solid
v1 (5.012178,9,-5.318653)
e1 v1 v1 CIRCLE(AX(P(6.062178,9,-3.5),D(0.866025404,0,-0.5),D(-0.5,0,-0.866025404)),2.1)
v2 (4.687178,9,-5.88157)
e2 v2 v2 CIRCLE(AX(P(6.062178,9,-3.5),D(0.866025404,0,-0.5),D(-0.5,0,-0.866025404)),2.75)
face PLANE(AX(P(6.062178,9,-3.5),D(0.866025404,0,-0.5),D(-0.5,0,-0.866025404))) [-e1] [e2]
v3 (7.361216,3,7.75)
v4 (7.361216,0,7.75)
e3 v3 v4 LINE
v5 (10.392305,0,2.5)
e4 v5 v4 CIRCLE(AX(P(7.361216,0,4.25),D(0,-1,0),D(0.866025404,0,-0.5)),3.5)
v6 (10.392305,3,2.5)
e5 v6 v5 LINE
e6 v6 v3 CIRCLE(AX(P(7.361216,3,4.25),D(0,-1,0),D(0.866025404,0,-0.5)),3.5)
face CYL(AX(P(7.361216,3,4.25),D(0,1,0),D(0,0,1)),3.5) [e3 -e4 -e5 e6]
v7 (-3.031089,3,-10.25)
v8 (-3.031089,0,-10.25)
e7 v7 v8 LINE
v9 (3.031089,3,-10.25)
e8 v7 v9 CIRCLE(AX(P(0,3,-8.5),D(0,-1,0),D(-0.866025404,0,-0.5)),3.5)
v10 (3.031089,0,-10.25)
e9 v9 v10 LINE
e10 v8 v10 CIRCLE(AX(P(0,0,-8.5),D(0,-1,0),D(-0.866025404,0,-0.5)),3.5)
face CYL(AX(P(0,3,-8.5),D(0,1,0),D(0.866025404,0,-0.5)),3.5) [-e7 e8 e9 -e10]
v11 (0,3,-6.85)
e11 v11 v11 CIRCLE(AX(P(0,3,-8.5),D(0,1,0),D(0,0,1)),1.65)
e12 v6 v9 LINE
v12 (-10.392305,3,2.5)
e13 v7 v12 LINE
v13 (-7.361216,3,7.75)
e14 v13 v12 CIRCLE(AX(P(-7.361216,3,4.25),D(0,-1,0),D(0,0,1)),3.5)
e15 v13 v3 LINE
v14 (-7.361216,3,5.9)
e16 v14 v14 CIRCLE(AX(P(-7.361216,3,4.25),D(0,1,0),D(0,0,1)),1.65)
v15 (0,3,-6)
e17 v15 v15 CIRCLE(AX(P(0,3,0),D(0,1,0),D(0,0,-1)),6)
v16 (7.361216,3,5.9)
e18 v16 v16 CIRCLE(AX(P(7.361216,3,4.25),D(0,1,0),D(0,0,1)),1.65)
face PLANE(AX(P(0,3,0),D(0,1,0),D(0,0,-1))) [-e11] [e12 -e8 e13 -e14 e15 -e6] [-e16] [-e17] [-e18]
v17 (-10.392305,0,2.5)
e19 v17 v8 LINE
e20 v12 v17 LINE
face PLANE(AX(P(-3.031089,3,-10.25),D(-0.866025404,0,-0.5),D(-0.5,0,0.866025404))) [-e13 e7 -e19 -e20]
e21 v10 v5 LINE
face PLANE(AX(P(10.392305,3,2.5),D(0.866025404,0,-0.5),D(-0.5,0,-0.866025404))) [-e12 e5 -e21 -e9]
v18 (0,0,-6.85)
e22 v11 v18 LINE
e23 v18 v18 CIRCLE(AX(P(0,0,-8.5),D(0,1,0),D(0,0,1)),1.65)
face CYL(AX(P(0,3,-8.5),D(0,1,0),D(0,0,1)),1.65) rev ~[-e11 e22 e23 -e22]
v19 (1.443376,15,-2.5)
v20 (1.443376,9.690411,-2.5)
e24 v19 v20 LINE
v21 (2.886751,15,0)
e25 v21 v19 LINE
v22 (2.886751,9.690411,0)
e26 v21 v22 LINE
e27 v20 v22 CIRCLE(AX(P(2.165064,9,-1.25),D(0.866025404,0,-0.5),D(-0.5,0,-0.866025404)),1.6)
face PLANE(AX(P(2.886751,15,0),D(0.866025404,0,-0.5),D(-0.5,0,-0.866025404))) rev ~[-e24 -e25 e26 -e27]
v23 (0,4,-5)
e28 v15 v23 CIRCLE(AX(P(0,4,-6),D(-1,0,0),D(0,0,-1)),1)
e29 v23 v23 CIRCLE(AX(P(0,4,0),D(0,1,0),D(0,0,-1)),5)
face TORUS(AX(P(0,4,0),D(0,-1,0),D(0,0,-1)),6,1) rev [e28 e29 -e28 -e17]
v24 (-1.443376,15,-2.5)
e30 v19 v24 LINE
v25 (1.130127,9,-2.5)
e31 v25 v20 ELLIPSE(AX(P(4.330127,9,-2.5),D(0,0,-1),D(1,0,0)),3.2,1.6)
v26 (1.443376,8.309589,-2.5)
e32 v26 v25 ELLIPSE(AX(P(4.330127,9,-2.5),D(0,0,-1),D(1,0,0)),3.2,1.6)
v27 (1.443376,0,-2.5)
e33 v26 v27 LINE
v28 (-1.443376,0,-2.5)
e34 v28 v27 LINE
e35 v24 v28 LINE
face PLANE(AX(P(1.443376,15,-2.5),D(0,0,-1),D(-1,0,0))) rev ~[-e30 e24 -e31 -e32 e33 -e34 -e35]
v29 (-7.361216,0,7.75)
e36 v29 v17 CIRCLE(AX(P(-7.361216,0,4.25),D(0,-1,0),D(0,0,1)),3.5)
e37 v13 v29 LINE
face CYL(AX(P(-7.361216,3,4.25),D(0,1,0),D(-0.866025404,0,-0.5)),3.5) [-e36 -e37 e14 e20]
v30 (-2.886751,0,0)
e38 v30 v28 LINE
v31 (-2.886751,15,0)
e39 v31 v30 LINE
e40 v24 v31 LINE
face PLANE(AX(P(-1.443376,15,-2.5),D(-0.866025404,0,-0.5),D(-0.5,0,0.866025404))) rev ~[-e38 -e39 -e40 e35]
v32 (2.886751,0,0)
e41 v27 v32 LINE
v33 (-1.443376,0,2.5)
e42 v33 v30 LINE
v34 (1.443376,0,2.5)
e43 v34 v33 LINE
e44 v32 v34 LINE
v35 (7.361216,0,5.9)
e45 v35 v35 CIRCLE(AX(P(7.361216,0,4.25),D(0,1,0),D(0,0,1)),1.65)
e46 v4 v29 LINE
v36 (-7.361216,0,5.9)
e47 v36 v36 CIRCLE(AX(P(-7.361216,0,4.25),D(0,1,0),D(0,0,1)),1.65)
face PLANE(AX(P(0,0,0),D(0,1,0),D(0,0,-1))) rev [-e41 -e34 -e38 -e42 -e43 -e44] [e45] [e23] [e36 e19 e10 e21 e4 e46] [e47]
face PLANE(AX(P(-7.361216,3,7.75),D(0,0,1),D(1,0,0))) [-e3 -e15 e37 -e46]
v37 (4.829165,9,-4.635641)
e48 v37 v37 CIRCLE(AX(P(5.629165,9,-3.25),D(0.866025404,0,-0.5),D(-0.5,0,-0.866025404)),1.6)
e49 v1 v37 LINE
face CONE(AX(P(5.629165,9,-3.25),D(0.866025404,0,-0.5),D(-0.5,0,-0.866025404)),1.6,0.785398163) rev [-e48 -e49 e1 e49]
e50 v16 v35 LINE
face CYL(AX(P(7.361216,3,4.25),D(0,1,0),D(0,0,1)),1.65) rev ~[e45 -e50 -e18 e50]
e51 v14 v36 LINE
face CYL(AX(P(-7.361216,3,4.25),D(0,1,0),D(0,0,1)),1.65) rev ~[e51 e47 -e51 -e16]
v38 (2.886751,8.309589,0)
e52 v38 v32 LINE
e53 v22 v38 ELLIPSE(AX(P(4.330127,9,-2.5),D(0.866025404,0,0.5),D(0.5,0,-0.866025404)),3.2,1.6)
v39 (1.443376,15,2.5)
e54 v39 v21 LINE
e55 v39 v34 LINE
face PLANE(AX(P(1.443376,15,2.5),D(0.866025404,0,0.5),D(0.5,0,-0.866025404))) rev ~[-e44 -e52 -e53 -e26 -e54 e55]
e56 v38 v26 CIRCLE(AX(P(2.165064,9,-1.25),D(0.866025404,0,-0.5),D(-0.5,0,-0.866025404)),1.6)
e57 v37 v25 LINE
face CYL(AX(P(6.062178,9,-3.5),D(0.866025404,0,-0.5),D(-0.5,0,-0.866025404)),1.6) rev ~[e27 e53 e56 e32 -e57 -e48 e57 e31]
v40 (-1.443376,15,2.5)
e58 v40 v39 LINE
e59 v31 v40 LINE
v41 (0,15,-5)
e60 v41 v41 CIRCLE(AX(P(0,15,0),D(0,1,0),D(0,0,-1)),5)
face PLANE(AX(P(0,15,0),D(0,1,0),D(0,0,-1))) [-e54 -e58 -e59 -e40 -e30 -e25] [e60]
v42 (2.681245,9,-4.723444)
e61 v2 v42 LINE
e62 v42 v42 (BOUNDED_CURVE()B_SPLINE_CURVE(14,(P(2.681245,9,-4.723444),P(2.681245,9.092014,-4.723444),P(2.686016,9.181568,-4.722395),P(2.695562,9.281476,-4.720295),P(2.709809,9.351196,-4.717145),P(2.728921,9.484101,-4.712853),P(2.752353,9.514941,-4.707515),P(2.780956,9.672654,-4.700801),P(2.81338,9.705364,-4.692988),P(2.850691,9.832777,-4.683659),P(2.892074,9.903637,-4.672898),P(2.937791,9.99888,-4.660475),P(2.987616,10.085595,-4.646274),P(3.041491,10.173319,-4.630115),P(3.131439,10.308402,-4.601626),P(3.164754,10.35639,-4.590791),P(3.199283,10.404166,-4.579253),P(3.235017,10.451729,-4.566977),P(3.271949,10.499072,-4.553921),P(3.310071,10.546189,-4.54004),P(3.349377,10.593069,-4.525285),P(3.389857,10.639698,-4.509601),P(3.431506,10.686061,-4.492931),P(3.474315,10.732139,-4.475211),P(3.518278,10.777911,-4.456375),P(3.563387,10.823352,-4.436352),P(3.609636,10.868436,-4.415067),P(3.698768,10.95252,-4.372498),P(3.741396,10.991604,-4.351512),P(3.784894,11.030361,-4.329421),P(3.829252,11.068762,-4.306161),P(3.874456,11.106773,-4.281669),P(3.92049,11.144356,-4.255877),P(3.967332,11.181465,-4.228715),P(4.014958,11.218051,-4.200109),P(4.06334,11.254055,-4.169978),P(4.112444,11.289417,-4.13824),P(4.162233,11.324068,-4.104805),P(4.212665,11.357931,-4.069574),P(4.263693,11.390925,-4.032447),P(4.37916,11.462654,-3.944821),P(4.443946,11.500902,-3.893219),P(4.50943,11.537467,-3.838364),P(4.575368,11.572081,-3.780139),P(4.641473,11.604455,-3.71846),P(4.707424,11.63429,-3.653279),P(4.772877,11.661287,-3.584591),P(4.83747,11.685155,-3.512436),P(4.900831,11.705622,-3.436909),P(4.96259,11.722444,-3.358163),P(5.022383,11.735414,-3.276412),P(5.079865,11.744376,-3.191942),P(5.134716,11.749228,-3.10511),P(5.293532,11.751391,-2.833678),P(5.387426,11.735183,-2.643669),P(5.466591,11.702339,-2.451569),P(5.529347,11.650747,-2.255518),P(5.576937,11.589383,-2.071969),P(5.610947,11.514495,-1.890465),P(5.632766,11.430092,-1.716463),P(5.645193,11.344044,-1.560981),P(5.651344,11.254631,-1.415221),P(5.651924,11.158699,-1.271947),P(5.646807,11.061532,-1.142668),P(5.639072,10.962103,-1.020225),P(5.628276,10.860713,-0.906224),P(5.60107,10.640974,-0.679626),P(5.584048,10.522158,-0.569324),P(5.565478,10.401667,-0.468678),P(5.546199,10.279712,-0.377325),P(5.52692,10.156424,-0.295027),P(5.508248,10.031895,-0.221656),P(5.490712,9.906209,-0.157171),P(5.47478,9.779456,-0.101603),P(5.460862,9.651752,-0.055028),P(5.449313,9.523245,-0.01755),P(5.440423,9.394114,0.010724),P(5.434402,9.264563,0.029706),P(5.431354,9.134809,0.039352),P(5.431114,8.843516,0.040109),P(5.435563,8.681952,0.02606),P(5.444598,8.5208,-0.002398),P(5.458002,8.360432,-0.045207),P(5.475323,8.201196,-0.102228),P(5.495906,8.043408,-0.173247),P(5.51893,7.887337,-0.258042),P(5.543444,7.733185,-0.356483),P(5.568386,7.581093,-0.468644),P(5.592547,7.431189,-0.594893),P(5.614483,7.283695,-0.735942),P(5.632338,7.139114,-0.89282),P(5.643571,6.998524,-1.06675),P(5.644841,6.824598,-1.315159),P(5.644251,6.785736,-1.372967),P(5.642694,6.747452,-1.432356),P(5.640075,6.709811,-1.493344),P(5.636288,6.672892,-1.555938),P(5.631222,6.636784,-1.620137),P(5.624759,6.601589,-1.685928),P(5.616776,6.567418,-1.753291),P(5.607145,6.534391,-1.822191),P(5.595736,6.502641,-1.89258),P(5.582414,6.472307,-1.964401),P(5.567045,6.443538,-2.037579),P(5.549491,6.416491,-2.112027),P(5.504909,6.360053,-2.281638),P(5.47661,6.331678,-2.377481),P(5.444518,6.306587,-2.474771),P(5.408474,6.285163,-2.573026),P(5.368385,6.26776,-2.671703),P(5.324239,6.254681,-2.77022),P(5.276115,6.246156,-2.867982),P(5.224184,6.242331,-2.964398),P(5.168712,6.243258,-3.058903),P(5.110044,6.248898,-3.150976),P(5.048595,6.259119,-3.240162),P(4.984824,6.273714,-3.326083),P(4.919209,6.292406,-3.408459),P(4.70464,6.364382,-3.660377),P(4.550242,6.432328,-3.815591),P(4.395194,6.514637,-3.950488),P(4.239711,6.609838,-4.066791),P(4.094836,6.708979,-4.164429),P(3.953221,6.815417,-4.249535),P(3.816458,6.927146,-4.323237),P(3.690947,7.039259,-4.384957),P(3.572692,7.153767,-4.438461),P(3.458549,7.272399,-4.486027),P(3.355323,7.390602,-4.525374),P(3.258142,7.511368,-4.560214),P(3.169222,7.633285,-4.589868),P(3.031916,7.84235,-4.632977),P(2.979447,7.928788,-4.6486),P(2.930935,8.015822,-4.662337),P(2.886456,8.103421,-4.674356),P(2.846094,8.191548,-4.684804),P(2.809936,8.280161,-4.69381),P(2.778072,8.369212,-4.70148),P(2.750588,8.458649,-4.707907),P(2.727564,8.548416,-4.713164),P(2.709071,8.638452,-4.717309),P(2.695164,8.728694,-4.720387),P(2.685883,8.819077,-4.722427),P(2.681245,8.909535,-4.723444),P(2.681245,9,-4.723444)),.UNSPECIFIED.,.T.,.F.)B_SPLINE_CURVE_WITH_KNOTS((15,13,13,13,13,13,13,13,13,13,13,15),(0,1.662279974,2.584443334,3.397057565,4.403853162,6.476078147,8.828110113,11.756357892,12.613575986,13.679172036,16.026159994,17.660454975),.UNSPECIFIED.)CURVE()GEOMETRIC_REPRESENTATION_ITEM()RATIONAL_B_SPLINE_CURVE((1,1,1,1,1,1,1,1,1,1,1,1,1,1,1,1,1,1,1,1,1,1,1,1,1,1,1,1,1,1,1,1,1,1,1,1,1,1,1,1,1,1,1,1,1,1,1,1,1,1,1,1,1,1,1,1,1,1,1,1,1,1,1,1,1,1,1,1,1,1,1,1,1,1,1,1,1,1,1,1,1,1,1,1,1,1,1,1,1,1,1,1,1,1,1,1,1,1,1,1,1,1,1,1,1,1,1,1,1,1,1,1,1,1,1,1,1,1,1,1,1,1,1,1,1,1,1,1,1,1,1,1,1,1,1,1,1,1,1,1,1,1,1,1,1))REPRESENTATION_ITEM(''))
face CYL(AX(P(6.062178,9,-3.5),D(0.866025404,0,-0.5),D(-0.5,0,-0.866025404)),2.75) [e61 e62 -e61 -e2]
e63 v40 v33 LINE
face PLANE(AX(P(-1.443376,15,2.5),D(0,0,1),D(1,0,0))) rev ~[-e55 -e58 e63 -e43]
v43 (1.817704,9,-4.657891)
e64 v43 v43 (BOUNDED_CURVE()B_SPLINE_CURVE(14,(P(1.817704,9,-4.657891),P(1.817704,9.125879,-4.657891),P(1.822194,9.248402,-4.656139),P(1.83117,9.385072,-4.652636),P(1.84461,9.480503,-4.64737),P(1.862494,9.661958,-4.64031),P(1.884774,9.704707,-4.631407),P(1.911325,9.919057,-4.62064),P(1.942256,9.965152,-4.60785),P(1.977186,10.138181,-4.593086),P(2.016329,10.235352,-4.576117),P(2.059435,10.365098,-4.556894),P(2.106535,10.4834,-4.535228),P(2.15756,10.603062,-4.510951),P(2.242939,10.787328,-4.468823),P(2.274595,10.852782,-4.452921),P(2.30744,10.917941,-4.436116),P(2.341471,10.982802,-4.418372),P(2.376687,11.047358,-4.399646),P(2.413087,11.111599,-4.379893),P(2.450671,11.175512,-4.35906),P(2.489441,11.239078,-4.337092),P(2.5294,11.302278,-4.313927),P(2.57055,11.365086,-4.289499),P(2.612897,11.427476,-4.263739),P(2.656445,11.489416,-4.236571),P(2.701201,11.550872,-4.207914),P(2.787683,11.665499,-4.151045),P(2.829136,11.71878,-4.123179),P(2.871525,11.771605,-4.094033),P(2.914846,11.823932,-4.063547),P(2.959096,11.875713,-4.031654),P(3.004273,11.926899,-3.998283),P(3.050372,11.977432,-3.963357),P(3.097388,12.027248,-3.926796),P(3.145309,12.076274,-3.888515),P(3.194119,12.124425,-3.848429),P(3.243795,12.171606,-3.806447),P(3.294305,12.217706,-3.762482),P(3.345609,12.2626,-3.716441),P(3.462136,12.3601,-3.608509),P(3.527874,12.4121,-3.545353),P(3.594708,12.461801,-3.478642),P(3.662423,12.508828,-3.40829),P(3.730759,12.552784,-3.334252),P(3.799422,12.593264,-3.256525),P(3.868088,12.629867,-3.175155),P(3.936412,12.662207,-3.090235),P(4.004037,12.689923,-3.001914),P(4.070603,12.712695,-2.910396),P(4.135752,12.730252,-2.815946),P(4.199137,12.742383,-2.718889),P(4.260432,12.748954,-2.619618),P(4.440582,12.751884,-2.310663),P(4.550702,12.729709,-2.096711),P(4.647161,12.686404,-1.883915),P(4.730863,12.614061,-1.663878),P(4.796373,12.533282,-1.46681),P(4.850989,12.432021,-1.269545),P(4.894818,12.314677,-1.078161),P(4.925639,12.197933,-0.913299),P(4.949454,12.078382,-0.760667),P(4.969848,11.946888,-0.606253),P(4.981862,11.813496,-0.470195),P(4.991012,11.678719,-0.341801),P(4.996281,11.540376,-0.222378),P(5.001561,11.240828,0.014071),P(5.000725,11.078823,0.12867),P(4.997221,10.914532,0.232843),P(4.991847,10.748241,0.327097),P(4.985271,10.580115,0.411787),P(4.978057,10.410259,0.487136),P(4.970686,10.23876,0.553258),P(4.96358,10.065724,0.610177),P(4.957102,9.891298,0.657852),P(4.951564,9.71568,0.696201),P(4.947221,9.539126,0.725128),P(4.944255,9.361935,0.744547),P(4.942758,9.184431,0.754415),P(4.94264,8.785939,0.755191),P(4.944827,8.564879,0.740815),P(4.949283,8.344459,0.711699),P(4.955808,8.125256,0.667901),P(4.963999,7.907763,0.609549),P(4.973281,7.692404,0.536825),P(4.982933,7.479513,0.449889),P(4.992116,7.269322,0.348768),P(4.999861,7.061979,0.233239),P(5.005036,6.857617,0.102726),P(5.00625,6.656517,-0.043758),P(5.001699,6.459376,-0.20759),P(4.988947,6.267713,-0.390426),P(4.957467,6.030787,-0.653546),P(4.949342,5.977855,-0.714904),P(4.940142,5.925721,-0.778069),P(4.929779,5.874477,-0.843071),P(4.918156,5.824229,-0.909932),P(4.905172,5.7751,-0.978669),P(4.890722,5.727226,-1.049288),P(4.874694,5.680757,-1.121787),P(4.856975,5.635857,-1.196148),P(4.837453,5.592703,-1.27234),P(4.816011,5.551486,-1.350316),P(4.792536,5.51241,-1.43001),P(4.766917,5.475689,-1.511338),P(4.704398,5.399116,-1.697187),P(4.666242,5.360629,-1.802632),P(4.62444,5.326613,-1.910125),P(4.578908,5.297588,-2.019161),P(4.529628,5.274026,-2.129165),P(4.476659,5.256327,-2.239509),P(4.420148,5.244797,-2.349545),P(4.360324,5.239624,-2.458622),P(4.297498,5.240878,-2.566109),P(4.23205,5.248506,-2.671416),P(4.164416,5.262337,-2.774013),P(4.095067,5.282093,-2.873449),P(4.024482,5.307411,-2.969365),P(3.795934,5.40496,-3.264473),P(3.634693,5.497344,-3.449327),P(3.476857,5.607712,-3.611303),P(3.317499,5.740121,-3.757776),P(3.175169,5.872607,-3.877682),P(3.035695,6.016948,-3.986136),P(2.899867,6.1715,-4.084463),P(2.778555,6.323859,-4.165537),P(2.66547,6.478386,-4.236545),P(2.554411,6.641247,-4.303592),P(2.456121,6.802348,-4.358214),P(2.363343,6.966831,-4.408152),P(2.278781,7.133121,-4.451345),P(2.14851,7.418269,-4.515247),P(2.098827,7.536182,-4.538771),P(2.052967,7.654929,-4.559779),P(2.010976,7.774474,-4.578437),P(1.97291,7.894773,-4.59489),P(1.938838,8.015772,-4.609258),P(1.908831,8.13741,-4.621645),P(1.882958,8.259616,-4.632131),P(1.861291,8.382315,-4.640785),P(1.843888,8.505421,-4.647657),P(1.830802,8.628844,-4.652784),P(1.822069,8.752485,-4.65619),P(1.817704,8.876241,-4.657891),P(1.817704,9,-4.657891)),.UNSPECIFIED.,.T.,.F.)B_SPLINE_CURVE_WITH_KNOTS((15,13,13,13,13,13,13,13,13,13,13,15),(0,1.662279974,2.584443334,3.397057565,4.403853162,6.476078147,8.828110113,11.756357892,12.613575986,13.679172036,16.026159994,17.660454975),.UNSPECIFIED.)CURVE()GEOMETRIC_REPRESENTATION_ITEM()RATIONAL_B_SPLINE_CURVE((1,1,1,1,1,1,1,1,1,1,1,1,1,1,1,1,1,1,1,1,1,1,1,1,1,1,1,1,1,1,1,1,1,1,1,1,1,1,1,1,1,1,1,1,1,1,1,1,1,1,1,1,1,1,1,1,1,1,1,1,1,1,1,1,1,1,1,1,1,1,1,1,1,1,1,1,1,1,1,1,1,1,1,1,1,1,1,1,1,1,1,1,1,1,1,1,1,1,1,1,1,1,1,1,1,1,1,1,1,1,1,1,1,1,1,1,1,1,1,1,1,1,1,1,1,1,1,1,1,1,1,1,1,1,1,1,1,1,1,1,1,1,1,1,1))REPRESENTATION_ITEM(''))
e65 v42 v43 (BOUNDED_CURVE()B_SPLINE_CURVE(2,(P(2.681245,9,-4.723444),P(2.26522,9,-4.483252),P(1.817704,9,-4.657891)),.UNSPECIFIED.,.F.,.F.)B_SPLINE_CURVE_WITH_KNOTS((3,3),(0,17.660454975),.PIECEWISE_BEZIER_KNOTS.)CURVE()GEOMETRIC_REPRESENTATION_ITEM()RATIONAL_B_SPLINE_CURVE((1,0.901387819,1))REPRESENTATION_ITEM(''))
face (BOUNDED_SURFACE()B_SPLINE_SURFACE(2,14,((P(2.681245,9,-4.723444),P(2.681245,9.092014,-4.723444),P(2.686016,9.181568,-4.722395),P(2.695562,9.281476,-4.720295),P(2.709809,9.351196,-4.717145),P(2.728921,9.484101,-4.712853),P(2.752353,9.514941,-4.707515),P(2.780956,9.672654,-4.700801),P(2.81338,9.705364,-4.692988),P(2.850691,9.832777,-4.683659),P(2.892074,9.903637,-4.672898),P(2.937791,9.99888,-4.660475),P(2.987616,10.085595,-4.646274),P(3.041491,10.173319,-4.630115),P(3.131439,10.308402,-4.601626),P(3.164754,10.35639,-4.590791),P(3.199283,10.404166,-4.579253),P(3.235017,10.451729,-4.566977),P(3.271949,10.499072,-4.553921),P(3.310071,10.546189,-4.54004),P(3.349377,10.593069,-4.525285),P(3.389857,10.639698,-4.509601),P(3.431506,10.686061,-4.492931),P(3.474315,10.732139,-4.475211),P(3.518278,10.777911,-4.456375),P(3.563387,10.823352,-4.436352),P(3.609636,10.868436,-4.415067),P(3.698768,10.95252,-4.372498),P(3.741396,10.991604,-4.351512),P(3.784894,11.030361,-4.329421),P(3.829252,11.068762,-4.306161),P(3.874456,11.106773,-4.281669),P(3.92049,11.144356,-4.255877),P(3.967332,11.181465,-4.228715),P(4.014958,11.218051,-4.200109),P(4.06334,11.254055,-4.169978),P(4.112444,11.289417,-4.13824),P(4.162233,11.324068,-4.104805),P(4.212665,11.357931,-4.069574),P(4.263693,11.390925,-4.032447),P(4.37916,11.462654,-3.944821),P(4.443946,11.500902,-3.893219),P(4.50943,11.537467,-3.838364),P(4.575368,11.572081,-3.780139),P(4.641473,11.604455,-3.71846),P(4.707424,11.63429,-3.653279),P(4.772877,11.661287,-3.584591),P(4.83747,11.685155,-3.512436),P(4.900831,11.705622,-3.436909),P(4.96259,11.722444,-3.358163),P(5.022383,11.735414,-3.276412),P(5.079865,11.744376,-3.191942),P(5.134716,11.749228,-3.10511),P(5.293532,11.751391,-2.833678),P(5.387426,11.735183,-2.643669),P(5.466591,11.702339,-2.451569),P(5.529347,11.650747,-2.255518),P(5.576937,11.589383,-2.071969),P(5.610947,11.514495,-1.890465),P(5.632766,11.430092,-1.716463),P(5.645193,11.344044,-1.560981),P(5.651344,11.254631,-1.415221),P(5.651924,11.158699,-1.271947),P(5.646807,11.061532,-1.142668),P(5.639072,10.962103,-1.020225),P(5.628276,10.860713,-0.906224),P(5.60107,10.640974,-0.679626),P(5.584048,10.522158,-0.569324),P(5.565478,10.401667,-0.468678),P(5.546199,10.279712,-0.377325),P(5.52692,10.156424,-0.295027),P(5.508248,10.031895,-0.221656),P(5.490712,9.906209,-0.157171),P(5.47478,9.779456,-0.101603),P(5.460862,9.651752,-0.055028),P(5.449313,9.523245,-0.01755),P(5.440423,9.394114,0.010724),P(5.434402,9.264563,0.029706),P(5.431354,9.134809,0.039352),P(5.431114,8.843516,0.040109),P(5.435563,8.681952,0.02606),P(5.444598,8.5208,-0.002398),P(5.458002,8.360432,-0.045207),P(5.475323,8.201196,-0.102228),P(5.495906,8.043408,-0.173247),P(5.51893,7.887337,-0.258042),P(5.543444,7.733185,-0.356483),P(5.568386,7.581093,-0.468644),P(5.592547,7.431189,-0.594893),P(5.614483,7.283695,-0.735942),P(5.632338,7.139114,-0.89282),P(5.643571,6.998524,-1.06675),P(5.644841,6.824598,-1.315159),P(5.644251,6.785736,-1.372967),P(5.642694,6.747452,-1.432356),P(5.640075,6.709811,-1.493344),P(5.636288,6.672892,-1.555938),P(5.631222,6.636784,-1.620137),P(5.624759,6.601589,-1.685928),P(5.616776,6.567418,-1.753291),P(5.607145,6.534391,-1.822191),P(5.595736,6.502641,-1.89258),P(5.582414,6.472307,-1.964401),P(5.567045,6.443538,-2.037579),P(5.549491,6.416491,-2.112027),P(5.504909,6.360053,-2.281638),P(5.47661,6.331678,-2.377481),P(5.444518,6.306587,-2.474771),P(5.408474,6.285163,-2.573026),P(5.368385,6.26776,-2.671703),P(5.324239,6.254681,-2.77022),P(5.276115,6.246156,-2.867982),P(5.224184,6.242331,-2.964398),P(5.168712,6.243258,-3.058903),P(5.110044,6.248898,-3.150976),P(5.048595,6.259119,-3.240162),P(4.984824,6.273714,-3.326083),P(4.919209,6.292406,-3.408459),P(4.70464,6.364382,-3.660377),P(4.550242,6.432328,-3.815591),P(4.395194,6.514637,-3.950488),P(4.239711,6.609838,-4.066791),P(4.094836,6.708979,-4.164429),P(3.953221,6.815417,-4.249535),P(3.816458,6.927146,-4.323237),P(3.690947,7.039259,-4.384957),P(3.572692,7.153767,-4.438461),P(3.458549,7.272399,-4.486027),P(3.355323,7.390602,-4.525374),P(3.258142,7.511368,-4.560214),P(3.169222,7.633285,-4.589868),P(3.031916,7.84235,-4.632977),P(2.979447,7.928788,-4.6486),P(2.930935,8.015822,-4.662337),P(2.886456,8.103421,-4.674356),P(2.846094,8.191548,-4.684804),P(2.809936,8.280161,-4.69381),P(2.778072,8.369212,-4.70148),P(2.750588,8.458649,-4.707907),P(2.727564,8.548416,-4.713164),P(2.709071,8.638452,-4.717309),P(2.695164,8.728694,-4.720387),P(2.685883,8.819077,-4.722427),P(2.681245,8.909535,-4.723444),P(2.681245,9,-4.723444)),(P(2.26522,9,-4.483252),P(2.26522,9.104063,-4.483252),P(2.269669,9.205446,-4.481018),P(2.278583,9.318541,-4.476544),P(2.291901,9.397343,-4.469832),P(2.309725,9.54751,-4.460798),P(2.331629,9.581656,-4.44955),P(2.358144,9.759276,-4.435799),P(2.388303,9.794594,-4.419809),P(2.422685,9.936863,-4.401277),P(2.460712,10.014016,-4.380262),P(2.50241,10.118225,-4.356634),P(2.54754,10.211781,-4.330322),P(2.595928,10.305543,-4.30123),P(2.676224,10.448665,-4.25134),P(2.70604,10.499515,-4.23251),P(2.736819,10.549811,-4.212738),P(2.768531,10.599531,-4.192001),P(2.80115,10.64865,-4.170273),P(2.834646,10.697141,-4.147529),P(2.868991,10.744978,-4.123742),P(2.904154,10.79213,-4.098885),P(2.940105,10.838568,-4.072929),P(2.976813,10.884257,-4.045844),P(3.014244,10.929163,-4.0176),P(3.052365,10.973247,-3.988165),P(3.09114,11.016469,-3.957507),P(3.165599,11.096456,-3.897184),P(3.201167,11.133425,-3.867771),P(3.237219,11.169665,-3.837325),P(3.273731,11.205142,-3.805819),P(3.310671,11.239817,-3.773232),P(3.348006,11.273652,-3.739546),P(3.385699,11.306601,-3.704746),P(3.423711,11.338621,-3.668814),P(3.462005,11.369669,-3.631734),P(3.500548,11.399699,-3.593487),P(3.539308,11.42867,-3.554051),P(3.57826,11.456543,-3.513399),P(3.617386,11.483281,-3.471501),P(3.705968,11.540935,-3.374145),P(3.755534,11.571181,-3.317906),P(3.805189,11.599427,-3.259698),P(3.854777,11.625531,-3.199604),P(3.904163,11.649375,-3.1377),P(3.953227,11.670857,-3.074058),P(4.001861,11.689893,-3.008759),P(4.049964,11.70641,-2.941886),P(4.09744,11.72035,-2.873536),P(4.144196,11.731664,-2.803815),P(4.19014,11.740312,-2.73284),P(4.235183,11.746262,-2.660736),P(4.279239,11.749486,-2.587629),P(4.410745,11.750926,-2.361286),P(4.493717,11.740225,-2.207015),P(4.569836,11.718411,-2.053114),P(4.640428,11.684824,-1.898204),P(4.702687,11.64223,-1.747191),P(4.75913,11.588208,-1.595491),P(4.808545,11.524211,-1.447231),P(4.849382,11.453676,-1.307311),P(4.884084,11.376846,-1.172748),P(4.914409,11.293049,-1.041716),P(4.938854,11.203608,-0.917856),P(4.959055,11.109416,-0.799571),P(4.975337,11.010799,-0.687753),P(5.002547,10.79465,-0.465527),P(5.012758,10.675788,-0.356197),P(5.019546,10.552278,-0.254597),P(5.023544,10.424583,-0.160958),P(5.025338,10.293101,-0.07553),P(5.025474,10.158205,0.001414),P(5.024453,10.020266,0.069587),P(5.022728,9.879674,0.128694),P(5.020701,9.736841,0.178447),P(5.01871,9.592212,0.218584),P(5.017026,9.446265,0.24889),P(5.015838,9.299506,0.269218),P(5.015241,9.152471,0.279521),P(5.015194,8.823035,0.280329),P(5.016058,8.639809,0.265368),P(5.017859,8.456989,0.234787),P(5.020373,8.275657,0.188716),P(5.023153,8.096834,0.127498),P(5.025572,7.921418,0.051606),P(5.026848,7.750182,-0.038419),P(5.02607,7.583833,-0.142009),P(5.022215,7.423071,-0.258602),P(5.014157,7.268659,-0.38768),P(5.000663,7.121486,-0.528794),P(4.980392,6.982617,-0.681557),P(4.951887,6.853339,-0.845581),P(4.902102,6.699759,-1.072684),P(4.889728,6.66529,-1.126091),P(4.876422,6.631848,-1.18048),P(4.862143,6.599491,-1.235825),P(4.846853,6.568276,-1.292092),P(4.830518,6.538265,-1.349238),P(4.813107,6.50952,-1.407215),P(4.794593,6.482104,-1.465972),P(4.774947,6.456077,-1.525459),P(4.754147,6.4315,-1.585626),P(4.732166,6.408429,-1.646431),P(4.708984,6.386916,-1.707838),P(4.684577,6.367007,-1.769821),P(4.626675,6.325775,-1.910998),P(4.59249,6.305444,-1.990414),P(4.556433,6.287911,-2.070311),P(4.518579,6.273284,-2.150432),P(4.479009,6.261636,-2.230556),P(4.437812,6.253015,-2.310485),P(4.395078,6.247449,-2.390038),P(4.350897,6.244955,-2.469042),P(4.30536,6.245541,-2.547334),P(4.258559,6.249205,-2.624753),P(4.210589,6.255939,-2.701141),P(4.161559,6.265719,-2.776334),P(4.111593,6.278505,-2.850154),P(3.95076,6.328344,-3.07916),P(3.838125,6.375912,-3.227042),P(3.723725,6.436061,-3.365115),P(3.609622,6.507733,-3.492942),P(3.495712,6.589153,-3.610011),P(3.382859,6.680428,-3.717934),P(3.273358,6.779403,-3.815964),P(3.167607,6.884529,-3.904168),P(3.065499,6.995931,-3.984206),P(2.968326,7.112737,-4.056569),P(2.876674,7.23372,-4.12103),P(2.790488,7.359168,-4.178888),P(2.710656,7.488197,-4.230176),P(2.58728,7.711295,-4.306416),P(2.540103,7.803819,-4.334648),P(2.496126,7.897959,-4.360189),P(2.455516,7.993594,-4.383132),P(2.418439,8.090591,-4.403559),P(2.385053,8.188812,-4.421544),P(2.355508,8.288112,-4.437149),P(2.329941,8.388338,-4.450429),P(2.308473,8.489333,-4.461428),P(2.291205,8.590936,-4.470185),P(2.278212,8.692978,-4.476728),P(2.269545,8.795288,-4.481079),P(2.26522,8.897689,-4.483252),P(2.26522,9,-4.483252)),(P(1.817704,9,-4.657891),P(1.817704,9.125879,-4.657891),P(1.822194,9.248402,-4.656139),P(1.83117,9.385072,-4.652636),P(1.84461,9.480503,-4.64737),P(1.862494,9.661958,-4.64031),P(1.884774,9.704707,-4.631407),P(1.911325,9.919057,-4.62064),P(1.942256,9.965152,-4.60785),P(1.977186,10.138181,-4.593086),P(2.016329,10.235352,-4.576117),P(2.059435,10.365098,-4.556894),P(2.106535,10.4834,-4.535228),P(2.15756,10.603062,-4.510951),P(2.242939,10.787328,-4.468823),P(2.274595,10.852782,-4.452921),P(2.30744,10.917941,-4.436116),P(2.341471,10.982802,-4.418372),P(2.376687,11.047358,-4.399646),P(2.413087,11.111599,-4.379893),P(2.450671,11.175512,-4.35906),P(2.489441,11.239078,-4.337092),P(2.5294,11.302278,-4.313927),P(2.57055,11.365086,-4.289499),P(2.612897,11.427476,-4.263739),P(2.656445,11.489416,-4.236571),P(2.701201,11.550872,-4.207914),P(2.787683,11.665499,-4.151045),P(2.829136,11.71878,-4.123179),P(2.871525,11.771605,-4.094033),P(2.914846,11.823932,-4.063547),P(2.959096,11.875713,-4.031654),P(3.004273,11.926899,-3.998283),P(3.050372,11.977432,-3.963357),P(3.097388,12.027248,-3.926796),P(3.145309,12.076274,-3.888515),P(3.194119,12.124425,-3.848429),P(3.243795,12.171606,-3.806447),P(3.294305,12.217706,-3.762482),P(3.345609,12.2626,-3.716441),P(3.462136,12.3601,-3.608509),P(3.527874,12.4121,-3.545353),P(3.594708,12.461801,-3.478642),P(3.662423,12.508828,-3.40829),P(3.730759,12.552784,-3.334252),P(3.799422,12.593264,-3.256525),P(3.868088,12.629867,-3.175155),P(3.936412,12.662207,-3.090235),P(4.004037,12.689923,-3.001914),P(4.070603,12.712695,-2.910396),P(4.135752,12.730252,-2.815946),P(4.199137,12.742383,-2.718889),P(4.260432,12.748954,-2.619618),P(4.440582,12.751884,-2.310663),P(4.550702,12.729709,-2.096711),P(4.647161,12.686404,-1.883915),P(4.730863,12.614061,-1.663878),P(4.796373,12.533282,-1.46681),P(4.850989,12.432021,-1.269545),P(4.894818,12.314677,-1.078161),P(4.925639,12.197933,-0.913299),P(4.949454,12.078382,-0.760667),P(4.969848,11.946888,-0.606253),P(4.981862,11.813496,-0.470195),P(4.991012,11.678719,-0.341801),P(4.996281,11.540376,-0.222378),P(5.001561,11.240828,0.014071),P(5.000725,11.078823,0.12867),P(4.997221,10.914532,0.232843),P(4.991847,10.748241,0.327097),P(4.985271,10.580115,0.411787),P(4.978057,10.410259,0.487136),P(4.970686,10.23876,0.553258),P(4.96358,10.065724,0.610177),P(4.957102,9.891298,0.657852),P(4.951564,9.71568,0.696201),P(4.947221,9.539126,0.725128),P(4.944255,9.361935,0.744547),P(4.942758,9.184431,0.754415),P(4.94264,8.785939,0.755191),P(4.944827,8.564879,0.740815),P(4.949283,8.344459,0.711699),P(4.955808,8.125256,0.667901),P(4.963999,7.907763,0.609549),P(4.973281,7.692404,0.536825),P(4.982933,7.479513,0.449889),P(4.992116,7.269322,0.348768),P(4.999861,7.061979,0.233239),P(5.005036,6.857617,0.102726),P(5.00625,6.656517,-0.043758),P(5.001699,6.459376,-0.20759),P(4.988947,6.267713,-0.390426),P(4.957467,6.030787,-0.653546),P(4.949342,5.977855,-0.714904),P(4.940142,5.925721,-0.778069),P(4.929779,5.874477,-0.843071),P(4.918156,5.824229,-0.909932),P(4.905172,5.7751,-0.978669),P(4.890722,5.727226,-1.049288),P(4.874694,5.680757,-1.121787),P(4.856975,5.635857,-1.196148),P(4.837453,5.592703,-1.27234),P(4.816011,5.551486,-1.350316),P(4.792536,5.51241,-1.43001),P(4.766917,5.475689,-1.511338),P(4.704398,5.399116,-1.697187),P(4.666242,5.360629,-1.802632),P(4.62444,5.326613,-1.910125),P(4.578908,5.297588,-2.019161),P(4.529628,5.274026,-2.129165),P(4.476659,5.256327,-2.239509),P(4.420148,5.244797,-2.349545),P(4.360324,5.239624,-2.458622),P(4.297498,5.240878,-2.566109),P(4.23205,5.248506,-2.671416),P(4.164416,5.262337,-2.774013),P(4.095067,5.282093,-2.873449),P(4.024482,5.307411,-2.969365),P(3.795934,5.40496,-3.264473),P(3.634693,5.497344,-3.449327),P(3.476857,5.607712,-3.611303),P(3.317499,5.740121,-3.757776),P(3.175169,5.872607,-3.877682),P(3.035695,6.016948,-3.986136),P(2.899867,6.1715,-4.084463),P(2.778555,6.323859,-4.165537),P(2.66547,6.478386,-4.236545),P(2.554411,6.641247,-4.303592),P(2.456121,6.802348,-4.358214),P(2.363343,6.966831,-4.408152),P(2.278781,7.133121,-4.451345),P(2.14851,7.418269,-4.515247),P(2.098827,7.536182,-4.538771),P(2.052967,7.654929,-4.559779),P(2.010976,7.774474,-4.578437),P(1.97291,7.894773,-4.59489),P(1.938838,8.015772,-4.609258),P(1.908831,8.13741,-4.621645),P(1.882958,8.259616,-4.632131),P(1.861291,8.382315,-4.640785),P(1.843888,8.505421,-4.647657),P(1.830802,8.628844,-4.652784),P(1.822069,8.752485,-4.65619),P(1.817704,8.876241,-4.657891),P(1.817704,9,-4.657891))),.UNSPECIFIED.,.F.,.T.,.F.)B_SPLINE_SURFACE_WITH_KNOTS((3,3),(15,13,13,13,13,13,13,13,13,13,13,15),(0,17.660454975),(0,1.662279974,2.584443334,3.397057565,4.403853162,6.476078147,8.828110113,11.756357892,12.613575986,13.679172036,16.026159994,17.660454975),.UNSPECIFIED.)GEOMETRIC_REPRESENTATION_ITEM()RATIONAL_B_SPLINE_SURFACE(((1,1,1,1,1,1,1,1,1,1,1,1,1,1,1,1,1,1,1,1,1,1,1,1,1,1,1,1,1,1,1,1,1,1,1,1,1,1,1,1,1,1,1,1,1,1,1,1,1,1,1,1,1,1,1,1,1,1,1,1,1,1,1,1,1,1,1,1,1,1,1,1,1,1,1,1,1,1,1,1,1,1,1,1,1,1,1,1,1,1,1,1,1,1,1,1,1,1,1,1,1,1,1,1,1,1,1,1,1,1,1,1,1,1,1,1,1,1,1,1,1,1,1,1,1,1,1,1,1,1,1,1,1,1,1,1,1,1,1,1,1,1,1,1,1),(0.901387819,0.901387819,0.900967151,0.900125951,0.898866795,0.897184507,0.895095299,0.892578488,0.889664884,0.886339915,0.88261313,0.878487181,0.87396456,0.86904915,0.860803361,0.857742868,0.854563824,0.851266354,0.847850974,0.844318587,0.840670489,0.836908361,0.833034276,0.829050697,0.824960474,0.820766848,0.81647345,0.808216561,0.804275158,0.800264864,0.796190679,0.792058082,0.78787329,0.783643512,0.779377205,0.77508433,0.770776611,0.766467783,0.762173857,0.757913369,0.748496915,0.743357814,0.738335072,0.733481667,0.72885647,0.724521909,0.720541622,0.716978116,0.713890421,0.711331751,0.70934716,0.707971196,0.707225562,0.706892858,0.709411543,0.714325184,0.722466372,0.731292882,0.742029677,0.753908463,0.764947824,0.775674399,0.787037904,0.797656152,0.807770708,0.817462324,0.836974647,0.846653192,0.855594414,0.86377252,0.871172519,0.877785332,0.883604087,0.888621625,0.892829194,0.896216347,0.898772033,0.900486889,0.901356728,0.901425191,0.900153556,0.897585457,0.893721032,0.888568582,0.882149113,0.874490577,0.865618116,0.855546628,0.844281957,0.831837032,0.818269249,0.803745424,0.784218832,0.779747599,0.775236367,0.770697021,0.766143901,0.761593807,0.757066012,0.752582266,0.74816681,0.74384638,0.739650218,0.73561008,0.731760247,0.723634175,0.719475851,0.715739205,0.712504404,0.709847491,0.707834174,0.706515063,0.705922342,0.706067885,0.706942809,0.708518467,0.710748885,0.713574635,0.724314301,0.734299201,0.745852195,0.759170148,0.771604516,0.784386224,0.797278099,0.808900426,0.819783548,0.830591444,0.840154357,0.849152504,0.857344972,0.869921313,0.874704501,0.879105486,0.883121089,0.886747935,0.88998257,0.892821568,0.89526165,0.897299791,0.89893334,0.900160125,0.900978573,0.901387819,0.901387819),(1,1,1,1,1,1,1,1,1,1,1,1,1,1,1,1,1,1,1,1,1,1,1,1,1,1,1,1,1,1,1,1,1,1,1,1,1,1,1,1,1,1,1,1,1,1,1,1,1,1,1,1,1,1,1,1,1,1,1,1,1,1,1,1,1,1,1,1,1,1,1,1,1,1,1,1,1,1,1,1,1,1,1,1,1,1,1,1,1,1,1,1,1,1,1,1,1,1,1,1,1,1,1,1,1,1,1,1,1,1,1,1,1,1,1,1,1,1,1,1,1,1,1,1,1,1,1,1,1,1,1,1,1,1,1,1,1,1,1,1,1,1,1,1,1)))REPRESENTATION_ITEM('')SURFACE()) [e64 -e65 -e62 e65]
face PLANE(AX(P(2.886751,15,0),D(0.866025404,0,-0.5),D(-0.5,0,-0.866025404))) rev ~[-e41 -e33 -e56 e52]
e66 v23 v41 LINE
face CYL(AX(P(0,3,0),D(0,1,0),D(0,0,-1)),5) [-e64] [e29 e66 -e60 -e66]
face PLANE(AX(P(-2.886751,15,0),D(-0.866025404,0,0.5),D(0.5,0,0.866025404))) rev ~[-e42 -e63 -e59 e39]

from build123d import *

# Parameters (mm, degrees)
SKETCH4_R                = 1.65
CUT_EXTRUDE4_DEPTH       = 21.784609691
SKETCH5_OUTSIDE_W        = 33.422
SKETCH5_OUTSIDE_H        = 33.422
CUT_EXTRUDE5_DEPTH       = 21.784609691
CUT_EXTRUDE2_DEPTH       = 16
BOSS_EXTRUDE1_REACH      = 27.258
BOSS_EXTRUDE1_END_RADIUS = 5
SKETCH3_R                = 2.75
CUT_EXTRUDE6_REACH       = 27.258
SKETCH6_R                = 1.6
FILLET1_R                = 1
CHAMFER1_SIZE            = 0.5
FILLET2_R                = 1


with BuildPart() as part:
    # Sketch1 → Revolve1 (revolve)
    with BuildSketch(Plane(origin=(0, 0, 0), x_dir=(0, 0, -1), z_dir=(1, 0, 0))):
        Polygon((0, 0), (12, 0), (12, 3), (5, 3), (5, 15), (0, 15), (0, 5.353547723), align=None)
    revolve(axis=Axis((0, 5.353547723, 0), (0, 1, 0)))

    # Sketch4 → Cut-Extrude4 (cut, through all)
    with BuildSketch(Plane(origin=(0, 3, 0), x_dir=(1, 0, 0), z_dir=(0, 1, 0))):
        with Locations(Location((0, 8.5, 0), (0, 0, 270))):
            Circle(SKETCH4_R)
        with Locations(Location((7.361215932, -4.25, 0), (0, 0, 270))):
            Circle(SKETCH4_R)
        with Locations(Location((-7.361215932, -4.25, 0), (0, 0, 270))):
            Circle(SKETCH4_R)
    extrude(amount=-CUT_EXTRUDE4_DEPTH, mode=Mode.SUBTRACT)

    # Sketch5 outside → Cut-Extrude5 (cut, through all)
    with BuildSketch(Plane(origin=(0, 3, 0), x_dir=(1, 0, 0), z_dir=(0, 1, 0))):
        Rectangle(SKETCH5_OUTSIDE_W, SKETCH5_OUTSIDE_H)
        with BuildLine():
            Line((-3.031088913, 10.25), (-10.392304845, -2.5))
            ThreePointArc((-10.392304845, -2.5), (-10.392304845, -6), (-7.361215932, -7.75))
            Line((-7.361215932, -7.75), (7.361215932, -7.75))
            ThreePointArc((7.361215932, -7.75), (10.392304845, -6), (10.392304845, -2.5))
            Line((10.392304845, -2.5), (3.031088913, 10.25))
            ThreePointArc((3.031088913, 10.25), (0, 12), (-3.031088913, 10.25))
        make_face(mode=Mode.SUBTRACT)
    extrude(amount=-CUT_EXTRUDE5_DEPTH, mode=Mode.SUBTRACT)

    # Sketch2 → Cut-Extrude2 (cut)
    with BuildSketch(Plane(origin=(0, 15, 0), x_dir=(1, 0, 0), z_dir=(0, 1, 0))):
        Polygon((2.886751346, 0), (1.443375673, 2.5), (-1.443375673, 2.5), (-2.886751346, 0), (-1.443375673, -2.5), (1.443375673, -2.5), align=None)
    extrude(amount=-CUT_EXTRUDE2_DEPTH, mode=Mode.SUBTRACT)

    # Boss-Extrude1: up to this cylinder (the profile starts outside it)
    boss_extrude1_end = Plane(origin=(0, 9, 0), z_dir=(0, -1, 0)) * Cylinder(BOSS_EXTRUDE1_END_RADIUS, 65.516, mode=Mode.PRIVATE)
    # Sketch3 → Boss-Extrude1 (add, up to the surface)
    with BuildSketch(Plane(origin=(6.062177826, 0, -3.5), x_dir=(-0.5000000000000001, 0, -0.8660254037844386), z_dir=(0.8660254037844386, 0, -0.5000000000000001)), mode=Mode.PRIVATE) as boss_extrude1_sk1:
        with Locations((0, 9)):
            Circle(SKETCH3_R)
    boss_extrude1_tool1 = extrude(boss_extrude1_sk1.sketch, amount=-BOSS_EXTRUDE1_REACH, mode=Mode.PRIVATE) - boss_extrude1_end
    add(boss_extrude1_tool1.solids().sort_by_distance((6.062178, 9, -3.5))[0])

    # Sketch6 → Cut-Extrude6 (cut, up to next)
    with BuildSketch(Plane(origin=(6.062177826, 0, -3.5), x_dir=(-0.5000000000000001, 0, -0.8660254037844386), z_dir=(0.8660254037844386, 0, -0.5000000000000001)), mode=Mode.PRIVATE) as cut_extrude6_sk1:
        with Locations((0, 9)):
            Circle(SKETCH6_R)
    cut_extrude6_tool1 = extrude(cut_extrude6_sk1.sketch, amount=-CUT_EXTRUDE6_REACH, mode=Mode.PRIVATE) & part.part
    add(cut_extrude6_tool1.solids().sort_by_distance((6.062178, 9, -3.5))[0], mode=Mode.SUBTRACT)

    # Fillet1
    fillet1_edges = [part.edges().sort_by_distance(p)[0] for p in [
        (0, 3, 5),
    ]]
    fillet(fillet1_edges, radius=FILLET1_R)

    # Chamfer1
    chamfer1_edges = [part.edges().sort_by_distance(p)[0] for p in [
        (6.862177826, 9, -2.114359354),
    ]]
    chamfer(chamfer1_edges, length=CHAMFER1_SIZE)

    # Fillet2
    fillet2_edges = [part.edges().sort_by_distance(p)[0] for p in [
        (4.991369035, 8.999999998, 0.293658225),
    ]]
    fillet(fillet2_edges, radius=FILLET2_R)


solid = part.part
